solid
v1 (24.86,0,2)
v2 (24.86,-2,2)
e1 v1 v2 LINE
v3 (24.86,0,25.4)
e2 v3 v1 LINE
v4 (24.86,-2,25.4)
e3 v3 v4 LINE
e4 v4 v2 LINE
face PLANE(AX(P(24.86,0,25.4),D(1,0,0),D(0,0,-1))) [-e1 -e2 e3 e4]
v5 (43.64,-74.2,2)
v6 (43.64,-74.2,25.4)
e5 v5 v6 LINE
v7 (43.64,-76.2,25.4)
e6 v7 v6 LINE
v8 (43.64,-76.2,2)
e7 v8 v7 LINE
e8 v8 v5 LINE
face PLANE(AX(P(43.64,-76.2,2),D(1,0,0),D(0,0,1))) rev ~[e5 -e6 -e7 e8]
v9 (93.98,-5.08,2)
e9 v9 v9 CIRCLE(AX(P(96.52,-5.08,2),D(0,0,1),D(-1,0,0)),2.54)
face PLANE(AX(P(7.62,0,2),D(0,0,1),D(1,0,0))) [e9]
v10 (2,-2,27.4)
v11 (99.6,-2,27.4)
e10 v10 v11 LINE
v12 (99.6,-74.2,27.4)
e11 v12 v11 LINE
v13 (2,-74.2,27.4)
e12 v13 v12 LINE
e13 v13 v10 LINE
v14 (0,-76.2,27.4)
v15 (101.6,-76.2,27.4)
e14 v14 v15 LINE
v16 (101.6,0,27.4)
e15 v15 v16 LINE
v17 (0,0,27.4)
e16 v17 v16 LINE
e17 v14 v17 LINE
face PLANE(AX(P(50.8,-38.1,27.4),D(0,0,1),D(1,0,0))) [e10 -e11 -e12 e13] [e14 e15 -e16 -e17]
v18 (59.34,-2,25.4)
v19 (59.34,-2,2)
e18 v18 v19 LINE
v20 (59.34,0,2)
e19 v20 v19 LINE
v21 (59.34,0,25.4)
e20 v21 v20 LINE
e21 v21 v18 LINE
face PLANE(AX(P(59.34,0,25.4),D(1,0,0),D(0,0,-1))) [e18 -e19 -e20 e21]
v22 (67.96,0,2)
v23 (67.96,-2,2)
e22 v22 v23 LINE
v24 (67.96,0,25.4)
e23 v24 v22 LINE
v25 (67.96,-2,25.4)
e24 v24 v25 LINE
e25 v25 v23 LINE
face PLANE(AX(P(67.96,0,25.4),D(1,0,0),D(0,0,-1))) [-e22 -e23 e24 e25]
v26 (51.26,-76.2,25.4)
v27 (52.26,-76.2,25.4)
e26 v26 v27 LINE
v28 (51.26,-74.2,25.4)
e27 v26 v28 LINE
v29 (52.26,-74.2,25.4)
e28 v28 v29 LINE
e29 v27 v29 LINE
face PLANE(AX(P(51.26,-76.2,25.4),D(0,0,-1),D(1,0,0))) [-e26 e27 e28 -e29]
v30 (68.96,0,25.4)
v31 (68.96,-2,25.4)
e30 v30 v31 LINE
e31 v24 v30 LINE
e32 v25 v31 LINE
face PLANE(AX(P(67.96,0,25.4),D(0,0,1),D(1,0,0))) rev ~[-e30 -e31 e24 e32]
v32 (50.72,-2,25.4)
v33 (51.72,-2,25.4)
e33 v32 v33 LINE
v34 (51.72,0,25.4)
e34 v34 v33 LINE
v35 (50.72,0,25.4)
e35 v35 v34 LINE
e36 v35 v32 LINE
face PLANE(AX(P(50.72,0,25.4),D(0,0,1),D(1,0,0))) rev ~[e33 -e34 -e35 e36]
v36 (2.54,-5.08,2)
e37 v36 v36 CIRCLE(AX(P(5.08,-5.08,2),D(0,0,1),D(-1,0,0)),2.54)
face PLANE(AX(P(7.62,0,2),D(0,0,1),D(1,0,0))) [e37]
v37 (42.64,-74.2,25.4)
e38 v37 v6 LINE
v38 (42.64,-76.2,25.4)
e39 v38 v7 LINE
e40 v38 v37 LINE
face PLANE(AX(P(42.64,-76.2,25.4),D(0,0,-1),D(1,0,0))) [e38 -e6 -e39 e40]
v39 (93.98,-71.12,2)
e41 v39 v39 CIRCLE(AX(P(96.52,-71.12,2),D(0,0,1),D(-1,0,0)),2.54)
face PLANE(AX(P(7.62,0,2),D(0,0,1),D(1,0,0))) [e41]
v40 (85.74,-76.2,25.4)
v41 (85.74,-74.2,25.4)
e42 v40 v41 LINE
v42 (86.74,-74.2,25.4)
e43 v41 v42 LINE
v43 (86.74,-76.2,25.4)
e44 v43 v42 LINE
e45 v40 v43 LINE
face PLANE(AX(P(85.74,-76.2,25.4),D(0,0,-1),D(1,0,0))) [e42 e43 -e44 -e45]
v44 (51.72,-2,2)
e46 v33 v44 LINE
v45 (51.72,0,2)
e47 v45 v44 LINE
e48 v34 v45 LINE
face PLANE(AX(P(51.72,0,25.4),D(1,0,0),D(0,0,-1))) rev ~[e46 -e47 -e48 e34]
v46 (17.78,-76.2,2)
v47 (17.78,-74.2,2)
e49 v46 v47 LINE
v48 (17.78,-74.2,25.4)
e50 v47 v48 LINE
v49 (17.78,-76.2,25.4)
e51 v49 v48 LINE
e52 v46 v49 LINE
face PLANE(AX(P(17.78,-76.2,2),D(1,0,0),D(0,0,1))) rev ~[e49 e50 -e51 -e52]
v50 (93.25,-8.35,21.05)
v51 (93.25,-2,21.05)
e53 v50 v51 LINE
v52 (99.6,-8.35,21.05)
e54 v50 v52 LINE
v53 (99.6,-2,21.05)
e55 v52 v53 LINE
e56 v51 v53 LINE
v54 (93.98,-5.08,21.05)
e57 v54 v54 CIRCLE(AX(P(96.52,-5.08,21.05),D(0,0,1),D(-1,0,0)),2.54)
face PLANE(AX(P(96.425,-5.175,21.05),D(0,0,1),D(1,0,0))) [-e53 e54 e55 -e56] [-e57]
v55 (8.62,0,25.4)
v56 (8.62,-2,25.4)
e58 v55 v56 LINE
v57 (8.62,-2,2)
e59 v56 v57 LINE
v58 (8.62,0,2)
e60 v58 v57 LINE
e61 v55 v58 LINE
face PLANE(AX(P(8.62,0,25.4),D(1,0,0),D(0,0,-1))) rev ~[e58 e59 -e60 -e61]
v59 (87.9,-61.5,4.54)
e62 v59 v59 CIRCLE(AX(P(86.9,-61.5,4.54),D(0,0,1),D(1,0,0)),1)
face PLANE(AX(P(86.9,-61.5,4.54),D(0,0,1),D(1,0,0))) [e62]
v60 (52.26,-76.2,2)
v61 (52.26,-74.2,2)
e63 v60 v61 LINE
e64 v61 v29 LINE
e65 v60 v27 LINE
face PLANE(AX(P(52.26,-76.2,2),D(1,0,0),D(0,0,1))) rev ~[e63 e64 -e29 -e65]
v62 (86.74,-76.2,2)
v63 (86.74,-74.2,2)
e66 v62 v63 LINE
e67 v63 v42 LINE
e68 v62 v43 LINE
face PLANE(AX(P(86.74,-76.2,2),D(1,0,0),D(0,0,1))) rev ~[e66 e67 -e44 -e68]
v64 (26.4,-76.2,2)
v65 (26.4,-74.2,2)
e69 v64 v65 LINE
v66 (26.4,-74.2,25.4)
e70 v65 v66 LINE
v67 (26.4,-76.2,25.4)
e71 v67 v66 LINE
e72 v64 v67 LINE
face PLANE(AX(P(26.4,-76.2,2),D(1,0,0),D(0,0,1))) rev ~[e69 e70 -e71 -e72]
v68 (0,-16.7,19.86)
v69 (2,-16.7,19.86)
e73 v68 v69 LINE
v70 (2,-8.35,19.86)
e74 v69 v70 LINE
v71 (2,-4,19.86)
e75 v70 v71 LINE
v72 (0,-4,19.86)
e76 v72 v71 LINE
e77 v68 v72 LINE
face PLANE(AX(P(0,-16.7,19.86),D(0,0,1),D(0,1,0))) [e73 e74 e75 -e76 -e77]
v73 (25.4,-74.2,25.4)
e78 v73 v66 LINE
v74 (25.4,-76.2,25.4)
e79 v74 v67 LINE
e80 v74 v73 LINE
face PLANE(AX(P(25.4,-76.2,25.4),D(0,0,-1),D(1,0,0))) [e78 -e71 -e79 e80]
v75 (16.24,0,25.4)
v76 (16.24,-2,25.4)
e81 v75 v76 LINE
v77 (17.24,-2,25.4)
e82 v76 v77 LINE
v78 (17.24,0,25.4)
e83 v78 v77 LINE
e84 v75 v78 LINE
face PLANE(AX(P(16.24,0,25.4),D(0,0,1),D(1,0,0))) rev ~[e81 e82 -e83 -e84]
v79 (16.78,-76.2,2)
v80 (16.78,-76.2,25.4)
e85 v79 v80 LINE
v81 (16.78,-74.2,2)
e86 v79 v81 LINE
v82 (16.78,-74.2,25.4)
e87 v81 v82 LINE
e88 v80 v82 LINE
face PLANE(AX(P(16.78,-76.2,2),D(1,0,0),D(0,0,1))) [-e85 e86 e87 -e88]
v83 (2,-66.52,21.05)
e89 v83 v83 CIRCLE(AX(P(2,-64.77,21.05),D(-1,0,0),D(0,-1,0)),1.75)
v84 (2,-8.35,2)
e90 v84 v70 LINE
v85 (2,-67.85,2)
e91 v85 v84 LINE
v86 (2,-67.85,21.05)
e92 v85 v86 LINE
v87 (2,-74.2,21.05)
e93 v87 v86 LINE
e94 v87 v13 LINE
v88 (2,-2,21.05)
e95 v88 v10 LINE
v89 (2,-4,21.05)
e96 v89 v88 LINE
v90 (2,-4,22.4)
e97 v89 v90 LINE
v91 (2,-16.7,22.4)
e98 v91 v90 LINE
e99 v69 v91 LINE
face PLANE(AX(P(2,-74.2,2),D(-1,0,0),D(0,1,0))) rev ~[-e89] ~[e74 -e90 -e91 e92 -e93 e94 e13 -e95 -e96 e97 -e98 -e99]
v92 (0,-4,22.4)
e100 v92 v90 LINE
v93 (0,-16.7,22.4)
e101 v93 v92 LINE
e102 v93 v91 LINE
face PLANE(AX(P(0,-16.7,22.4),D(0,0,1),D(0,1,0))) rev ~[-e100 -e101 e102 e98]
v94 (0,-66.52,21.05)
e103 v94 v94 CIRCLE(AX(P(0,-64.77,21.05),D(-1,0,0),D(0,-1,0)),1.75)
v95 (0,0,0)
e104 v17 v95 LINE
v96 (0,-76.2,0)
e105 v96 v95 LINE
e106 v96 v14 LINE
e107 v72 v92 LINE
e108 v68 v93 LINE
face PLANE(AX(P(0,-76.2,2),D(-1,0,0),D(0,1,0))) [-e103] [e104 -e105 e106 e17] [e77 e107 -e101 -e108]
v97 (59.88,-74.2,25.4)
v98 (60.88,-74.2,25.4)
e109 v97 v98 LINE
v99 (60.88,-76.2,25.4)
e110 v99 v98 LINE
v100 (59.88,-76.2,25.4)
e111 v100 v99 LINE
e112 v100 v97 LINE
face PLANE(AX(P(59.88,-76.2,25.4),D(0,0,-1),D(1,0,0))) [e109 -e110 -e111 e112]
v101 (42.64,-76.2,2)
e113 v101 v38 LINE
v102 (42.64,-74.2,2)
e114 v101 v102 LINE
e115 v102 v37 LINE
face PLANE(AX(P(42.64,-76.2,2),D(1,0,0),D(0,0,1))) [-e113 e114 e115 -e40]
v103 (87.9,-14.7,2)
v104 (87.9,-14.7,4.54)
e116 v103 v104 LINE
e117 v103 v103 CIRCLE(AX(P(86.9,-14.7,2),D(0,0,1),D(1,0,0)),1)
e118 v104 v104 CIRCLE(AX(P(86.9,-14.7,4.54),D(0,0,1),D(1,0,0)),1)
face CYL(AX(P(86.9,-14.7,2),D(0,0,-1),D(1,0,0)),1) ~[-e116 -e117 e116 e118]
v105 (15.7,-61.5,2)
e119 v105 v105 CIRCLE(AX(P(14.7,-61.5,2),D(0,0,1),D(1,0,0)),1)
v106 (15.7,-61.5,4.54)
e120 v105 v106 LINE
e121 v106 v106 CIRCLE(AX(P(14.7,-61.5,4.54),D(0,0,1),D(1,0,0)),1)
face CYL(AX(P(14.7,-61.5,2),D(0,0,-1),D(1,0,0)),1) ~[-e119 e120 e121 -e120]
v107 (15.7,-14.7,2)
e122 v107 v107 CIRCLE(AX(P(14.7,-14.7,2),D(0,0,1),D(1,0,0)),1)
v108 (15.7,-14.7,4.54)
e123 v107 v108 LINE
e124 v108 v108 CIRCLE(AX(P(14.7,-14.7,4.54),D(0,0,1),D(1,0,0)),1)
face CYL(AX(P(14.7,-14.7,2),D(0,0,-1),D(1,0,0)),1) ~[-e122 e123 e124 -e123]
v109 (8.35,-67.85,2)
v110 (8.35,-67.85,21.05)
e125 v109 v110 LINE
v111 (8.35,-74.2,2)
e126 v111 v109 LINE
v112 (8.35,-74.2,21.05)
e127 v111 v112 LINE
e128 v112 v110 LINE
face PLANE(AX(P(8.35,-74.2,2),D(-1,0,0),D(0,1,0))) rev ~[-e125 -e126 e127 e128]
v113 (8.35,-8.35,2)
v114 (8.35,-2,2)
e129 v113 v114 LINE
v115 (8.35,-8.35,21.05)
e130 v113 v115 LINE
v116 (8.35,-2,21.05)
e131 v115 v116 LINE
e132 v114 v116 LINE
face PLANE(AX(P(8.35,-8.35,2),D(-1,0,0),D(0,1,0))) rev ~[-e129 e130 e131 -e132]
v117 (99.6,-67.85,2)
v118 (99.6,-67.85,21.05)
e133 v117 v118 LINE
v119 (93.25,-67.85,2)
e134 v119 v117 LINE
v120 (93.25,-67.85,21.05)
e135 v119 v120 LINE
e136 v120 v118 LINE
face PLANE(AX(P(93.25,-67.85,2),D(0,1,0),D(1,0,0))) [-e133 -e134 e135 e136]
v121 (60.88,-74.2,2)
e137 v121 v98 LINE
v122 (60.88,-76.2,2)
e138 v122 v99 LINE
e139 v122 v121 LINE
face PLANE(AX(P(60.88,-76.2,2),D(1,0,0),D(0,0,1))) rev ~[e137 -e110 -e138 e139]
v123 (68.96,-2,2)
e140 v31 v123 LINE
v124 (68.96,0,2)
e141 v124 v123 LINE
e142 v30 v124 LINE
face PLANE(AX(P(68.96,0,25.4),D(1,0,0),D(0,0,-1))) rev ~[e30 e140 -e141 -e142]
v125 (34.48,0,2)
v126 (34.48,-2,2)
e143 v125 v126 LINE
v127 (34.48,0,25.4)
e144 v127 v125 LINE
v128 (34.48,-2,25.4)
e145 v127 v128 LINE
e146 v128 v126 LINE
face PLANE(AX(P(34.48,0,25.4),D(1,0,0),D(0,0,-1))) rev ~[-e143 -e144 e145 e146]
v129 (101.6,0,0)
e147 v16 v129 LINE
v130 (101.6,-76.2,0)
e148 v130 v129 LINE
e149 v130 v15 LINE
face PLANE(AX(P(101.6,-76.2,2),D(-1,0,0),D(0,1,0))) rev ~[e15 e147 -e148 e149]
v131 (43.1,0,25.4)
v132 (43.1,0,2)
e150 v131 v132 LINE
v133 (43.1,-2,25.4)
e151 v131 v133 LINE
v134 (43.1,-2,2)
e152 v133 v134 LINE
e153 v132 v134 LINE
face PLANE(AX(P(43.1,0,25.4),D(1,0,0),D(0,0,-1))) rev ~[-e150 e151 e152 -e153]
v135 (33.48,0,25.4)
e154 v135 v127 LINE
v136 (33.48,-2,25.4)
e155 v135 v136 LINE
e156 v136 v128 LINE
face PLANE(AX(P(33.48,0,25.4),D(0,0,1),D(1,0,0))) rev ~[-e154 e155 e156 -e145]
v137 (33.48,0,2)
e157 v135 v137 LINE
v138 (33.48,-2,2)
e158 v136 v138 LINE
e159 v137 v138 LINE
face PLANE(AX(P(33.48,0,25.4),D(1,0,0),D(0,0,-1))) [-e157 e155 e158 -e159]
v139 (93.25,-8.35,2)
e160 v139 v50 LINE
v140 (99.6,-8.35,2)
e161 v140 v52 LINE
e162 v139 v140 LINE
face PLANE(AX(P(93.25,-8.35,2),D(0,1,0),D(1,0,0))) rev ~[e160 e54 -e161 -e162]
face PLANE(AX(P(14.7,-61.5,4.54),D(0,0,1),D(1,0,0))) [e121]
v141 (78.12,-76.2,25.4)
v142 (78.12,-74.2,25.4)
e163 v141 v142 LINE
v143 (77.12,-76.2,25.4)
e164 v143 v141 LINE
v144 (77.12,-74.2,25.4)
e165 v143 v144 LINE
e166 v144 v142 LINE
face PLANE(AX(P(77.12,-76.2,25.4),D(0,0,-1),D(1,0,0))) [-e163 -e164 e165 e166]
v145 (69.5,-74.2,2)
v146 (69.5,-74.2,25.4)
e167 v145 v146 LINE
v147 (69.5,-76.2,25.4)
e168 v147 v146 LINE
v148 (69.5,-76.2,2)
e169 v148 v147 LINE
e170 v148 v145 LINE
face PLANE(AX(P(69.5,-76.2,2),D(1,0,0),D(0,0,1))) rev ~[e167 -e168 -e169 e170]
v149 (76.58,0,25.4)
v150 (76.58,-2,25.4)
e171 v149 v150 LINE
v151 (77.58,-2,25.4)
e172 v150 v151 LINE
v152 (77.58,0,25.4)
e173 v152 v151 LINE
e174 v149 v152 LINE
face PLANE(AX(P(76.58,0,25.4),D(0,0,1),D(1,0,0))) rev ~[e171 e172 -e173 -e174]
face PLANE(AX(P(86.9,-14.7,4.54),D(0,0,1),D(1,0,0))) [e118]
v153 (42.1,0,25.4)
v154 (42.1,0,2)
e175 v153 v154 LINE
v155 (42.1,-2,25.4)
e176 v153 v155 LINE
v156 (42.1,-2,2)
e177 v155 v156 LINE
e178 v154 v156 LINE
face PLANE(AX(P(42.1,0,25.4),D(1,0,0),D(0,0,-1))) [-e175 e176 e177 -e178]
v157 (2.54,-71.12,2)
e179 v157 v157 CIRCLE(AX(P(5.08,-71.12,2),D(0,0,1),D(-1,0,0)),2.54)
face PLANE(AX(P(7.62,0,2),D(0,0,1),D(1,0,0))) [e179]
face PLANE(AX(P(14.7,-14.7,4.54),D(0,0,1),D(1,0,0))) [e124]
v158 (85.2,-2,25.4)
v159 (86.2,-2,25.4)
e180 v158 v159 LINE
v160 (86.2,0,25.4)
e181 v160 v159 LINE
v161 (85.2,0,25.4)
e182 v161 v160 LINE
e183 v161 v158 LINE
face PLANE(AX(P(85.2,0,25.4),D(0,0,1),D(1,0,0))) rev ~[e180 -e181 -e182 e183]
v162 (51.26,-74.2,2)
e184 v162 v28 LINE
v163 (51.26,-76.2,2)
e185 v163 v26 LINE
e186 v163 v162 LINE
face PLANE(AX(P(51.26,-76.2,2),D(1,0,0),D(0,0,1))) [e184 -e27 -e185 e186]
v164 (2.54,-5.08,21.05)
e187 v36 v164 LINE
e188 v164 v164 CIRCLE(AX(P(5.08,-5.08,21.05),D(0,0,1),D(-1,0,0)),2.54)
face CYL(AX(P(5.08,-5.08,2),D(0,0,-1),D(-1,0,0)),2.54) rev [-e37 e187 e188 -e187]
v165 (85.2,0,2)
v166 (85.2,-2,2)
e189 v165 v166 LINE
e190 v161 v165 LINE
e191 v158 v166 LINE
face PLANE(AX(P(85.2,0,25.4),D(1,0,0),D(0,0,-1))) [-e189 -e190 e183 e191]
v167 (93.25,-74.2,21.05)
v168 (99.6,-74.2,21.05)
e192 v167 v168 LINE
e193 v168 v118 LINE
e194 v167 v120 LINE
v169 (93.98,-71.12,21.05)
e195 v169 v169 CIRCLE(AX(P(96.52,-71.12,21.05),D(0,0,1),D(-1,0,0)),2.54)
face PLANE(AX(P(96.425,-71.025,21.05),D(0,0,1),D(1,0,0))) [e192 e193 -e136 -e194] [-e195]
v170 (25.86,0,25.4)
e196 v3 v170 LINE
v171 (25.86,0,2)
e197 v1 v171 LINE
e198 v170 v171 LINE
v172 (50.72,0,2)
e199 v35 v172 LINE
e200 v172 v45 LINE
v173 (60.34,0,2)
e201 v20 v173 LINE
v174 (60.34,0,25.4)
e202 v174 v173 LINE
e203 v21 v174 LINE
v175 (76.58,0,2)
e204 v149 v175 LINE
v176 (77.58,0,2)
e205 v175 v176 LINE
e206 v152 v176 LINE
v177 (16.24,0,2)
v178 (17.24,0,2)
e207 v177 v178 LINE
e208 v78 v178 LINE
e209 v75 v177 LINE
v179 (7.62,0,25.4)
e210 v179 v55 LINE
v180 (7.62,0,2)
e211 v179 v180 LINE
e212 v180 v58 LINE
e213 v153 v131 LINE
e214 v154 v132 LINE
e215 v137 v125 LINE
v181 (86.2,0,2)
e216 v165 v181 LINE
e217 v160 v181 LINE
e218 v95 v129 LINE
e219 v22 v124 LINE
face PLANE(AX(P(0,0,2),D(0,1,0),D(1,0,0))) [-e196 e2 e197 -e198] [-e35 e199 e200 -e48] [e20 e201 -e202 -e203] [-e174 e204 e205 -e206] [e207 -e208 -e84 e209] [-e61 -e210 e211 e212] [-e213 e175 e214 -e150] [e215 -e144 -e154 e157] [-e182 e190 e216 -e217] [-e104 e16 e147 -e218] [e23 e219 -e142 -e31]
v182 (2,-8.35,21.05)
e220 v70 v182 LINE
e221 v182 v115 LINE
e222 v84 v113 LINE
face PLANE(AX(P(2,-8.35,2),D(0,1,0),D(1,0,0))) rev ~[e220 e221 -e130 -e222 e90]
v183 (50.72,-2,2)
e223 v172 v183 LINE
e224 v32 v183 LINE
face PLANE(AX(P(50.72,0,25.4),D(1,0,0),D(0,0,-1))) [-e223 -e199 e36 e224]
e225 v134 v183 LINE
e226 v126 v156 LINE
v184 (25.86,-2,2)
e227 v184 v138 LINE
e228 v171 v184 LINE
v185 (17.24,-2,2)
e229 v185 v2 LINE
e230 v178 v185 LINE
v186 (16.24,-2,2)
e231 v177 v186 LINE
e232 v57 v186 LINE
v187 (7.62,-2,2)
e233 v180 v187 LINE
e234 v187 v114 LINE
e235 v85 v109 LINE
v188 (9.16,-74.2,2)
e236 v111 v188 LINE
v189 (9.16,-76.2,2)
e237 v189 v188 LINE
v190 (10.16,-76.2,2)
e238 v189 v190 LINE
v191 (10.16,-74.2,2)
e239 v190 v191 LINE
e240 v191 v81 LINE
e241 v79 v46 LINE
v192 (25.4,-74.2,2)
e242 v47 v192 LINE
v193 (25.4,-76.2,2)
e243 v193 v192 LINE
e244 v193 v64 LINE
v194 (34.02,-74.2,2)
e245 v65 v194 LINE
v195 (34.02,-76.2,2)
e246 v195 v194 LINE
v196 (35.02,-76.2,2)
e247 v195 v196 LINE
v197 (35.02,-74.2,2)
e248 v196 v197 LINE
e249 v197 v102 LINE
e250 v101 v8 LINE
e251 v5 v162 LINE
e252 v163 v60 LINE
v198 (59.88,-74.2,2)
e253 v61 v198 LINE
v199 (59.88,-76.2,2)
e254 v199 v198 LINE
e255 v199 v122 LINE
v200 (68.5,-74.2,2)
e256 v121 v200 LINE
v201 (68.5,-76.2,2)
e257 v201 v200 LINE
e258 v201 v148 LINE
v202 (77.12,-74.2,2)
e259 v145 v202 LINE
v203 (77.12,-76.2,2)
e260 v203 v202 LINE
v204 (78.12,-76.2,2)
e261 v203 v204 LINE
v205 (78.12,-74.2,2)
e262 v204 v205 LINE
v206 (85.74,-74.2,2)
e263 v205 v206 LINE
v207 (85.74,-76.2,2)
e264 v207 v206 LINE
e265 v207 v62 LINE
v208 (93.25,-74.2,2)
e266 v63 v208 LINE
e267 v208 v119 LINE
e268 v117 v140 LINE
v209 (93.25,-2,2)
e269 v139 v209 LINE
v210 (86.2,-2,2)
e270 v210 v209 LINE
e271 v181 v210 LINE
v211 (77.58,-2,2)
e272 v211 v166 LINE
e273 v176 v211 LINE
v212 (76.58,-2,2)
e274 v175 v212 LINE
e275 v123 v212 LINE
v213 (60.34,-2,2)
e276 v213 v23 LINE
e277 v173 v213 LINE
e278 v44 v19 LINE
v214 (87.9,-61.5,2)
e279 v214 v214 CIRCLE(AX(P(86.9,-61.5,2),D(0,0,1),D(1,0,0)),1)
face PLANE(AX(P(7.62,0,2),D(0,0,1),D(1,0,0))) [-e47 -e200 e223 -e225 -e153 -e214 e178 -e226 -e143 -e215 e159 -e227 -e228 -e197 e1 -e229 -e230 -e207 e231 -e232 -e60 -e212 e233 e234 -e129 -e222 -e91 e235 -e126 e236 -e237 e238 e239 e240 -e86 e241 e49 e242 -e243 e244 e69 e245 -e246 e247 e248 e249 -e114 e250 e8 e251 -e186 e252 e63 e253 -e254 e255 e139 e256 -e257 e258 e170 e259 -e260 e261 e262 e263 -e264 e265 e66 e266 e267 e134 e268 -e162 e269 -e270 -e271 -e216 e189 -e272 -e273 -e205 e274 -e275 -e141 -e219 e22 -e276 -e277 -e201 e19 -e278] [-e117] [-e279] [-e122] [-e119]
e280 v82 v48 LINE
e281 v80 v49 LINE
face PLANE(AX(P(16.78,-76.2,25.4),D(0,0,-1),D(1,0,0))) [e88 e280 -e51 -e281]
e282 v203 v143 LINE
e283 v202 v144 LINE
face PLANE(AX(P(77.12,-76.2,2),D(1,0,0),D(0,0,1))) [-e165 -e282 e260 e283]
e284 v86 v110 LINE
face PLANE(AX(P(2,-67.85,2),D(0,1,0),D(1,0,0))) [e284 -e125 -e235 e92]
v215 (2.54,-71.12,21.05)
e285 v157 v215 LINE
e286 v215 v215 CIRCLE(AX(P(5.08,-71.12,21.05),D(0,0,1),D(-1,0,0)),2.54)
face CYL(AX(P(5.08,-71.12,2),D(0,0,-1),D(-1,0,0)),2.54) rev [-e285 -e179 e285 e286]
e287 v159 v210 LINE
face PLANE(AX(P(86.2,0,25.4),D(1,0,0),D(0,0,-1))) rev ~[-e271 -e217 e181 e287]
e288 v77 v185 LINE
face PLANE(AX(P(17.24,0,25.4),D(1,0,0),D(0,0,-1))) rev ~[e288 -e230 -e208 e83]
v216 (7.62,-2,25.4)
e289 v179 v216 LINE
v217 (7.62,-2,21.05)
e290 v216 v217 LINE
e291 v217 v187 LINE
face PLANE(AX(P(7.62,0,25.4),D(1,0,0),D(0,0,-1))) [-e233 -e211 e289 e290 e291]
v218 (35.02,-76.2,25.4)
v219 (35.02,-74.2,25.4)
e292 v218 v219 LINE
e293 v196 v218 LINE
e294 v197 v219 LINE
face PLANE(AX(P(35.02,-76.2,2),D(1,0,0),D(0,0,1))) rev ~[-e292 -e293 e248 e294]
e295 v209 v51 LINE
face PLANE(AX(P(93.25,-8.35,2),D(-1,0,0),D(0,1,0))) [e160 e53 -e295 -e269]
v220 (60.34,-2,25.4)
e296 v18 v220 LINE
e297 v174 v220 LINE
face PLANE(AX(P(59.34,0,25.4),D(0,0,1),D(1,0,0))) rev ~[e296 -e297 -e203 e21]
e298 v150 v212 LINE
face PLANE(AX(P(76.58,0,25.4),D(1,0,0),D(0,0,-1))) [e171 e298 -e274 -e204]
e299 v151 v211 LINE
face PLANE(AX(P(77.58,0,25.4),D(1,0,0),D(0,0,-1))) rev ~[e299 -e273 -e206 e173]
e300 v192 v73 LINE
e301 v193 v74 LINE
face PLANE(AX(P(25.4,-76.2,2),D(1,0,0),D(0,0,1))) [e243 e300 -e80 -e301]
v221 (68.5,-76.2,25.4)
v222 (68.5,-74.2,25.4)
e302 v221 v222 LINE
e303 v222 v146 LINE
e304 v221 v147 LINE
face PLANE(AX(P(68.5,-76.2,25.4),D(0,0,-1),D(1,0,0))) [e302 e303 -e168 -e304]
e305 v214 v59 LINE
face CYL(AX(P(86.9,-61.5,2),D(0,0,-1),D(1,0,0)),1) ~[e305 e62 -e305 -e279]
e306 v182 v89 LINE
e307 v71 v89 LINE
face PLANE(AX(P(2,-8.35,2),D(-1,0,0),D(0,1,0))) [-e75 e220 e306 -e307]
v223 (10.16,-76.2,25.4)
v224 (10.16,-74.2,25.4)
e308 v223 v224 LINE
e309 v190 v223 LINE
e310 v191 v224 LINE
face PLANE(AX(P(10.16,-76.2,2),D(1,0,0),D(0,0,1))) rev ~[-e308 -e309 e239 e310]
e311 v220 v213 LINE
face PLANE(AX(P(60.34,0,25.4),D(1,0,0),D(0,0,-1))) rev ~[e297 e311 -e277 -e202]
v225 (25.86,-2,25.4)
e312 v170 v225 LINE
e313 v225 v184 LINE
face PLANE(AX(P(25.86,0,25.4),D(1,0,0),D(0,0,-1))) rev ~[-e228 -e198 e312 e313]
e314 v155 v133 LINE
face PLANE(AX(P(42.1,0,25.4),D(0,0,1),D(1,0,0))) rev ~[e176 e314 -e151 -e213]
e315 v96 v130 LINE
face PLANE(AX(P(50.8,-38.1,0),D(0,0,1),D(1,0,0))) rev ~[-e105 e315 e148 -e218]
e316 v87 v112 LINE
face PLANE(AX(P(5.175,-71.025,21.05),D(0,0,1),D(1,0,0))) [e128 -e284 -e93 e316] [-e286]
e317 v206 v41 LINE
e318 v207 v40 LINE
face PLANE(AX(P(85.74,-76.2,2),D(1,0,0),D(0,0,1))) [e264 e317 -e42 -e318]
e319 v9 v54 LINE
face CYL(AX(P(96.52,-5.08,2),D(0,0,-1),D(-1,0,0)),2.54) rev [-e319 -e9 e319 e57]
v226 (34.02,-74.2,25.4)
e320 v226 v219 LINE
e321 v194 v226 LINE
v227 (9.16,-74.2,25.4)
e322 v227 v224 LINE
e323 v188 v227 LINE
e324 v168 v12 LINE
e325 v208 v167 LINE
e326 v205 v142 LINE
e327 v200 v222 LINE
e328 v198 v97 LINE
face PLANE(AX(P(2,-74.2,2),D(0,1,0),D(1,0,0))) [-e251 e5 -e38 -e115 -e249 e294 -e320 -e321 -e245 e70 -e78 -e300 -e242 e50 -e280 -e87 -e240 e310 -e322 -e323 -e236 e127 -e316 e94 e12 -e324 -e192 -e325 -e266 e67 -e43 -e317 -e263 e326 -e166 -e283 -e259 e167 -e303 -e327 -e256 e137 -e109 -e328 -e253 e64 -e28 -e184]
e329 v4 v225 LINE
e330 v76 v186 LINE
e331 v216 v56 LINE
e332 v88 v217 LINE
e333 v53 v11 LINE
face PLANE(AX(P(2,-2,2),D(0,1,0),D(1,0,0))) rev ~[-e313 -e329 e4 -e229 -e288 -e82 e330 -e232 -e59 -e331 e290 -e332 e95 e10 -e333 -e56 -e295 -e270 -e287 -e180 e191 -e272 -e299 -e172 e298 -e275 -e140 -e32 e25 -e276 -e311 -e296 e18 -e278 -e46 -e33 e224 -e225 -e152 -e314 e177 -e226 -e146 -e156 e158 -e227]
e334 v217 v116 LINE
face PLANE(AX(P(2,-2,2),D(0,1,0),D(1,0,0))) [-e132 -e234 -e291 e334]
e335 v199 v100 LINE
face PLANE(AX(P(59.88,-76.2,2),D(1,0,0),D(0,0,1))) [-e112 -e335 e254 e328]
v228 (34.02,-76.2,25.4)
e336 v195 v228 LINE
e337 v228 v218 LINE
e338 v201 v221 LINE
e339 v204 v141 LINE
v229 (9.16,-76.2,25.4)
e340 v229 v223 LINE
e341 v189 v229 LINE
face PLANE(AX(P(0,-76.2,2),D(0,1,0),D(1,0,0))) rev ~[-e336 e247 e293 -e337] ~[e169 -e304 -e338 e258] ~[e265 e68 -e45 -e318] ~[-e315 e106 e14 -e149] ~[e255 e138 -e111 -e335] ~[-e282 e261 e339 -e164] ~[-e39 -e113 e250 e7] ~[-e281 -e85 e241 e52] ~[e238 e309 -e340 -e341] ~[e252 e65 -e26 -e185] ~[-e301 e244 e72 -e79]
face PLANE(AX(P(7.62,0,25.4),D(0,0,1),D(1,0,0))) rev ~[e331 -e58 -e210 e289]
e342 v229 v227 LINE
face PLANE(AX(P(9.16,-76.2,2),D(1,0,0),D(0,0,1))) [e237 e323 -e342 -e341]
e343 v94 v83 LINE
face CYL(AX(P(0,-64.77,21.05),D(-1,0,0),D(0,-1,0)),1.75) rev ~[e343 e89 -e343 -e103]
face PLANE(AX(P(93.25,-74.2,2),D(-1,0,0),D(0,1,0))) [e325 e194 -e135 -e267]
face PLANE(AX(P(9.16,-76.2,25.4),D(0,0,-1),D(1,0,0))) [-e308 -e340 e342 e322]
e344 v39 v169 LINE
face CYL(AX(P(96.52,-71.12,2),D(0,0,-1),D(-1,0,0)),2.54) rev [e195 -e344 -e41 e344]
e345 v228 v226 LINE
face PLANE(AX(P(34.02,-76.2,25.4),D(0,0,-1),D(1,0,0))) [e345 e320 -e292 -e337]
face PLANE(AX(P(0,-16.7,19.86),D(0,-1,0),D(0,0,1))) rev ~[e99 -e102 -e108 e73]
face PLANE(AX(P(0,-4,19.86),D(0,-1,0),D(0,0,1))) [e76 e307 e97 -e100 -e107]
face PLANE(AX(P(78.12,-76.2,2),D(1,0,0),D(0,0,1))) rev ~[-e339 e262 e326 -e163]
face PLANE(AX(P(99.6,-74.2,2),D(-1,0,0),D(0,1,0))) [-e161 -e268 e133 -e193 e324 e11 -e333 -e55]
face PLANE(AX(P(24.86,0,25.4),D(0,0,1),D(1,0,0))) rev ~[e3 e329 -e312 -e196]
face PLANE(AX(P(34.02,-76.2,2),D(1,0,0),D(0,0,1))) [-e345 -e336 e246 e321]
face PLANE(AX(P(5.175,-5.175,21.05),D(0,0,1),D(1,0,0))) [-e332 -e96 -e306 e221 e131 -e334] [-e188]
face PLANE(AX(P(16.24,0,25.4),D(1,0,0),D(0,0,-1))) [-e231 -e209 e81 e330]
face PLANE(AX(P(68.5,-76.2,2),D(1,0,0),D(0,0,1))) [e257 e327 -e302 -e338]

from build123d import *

# Parameters (mm, degrees)
SKETCH16_W          = 101.6
SKETCH16_H          = 76.2
BOSS_EXTRUDE4_DEPTH = 2
SKETCH17_W          = 101.6
SKETCH17_H          = 76.2
SKETCH17_W_2        = 97.6
SKETCH17_H_2        = 72.2
BOSS_EXTRUDE5_DEPTH = 25.4
SKETCH18_R          = 1
BOSS_EXTRUDE6_DEPTH = 2.54
SKETCH19_W          = 1
SKETCH19_H          = 23.4
CUT_EXTRUDE6_DEPTH  = 2
SKETCH20_W          = 1
SKETCH20_H          = 23.4
CUT_EXTRUDE7_DEPTH  = 2
SKETCH21_R          = 1.75
SKETCH21_W          = 2.54
SKETCH21_H          = 12.7
CUT_EXTRUDE8_DEPTH  = 2
SKETCH33_W          = 6.35
SKETCH33_H          = 6.35
SKETCH33_R          = 2.54
BOSS_EXTRUDE7_DEPTH = 19.05


with BuildPart() as part:
    # Sketch16 → Boss-Extrude4 (new body)
    with BuildSketch(Plane.XY):
        with Locations((50.8, -38.1)):
            Rectangle(SKETCH16_W, SKETCH16_H)
    extrude(amount=BOSS_EXTRUDE4_DEPTH)

    # Sketch17 → Boss-Extrude5 (add)
    with BuildSketch(Plane.XY.offset(2)):
        with Locations((50.8, -38.1)):
            Rectangle(SKETCH17_W, SKETCH17_H)
        with Locations((50.8, -38.1)):
            Rectangle(SKETCH17_W_2, SKETCH17_H_2, mode=Mode.SUBTRACT)
    extrude(amount=BOSS_EXTRUDE5_DEPTH)

    # Sketch18 → Boss-Extrude6 (add)
    with BuildSketch(Plane.XY.offset(2)):
        with Locations((14.7, -14.7)):
            Circle(SKETCH18_R)
        with Locations((86.9, -14.7)):
            Circle(SKETCH18_R)
        with Locations((86.9, -61.5)):
            Circle(SKETCH18_R)
        with Locations((14.7, -61.5)):
            Circle(SKETCH18_R)
    extrude(amount=BOSS_EXTRUDE6_DEPTH)

    # Sketch19 → Cut-Extrude6 (cut)
    with BuildSketch(Plane.XZ.offset(76.2)):
        with Locations((9.66, 13.7)):
            Rectangle(SKETCH19_W, SKETCH19_H)
        with Locations((17.28, 13.7)):
            Rectangle(SKETCH19_W, SKETCH19_H)
        with Locations((25.9, 13.7)):
            Rectangle(SKETCH19_W, SKETCH19_H)
        with Locations((34.52, 13.7)):
            Rectangle(SKETCH19_W, SKETCH19_H)
        with Locations((43.14, 13.7)):
            Rectangle(SKETCH19_W, SKETCH19_H)
        with Locations((51.76, 13.7)):
            Rectangle(SKETCH19_W, SKETCH19_H)
        with Locations((60.38, 13.7)):
            Rectangle(SKETCH19_W, SKETCH19_H)
        with Locations((69, 13.7)):
            Rectangle(SKETCH19_W, SKETCH19_H)
        with Locations((77.62, 13.7)):
            Rectangle(SKETCH19_W, SKETCH19_H)
        with Locations((86.24, 13.7)):
            Rectangle(SKETCH19_W, SKETCH19_H)
    extrude(amount=-CUT_EXTRUDE6_DEPTH, mode=Mode.SUBTRACT)

    # Sketch20 → Cut-Extrude7 (cut)
    with BuildSketch(Plane(origin=(0, 0, 0), x_dir=(1, 0, 0), z_dir=(0, 1, 0))):
        with Locations((8.12, -13.7)):
            Rectangle(SKETCH20_W, SKETCH20_H)
        with Locations((16.74, -13.7)):
            Rectangle(SKETCH20_W, SKETCH20_H)
        with Locations((25.36, -13.7)):
            Rectangle(SKETCH20_W, SKETCH20_H)
        with Locations((33.98, -13.7)):
            Rectangle(SKETCH20_W, SKETCH20_H)
        with Locations((42.6, -13.7)):
            Rectangle(SKETCH20_W, SKETCH20_H)
        with Locations((51.22, -13.7)):
            Rectangle(SKETCH20_W, SKETCH20_H)
        with Locations((59.84, -13.7)):
            Rectangle(SKETCH20_W, SKETCH20_H)
        with Locations((68.46, -13.7)):
            Rectangle(SKETCH20_W, SKETCH20_H)
        with Locations((85.7, -13.7)):
            Rectangle(SKETCH20_W, SKETCH20_H)
        with Locations((77.08, -13.7)):
            Rectangle(SKETCH20_W, SKETCH20_H)
    extrude(amount=-CUT_EXTRUDE7_DEPTH, mode=Mode.SUBTRACT)

    # Sketch21 → Cut-Extrude8 (cut)
    with BuildSketch(Plane.ZY):
        with Locations(Location((21.05, -64.77, 0), (0, 0, 270))):
            Circle(SKETCH21_R)
        with Locations((21.13, -10.35)):
            Rectangle(SKETCH21_W, SKETCH21_H)
    extrude(amount=-CUT_EXTRUDE8_DEPTH, mode=Mode.SUBTRACT)

    # Sketch33 → Boss-Extrude7 (add)
    # profile 1 of 4: a face of its own
    with BuildSketch(Plane.XY.offset(2)):
        with Locations((5.175, -5.175)):
            Rectangle(SKETCH33_W, SKETCH33_H)
        with Locations(Location((5.08, -5.08, 0), (0, 0, 180))):
            Circle(SKETCH33_R, mode=Mode.SUBTRACT)
    # profile 2 of 4: a face of its own
    with BuildSketch(Plane.XY.offset(2)):
        with Locations((96.425, -5.175)):
            Rectangle(SKETCH33_W, SKETCH33_H)
        with Locations(Location((96.52, -5.08, 0), (0, 0, 180))):
            Circle(SKETCH33_R, mode=Mode.SUBTRACT)
    # profile 3 of 4: a face of its own
    with BuildSketch(Plane.XY.offset(2)):
        with Locations((5.175, -71.025)):
            Rectangle(SKETCH33_W, SKETCH33_H)
        with Locations(Location((5.08, -71.12, 0), (0, 0, 180))):
            Circle(SKETCH33_R, mode=Mode.SUBTRACT)
    # profile 4 of 4: a face of its own
    with BuildSketch(Plane.XY.offset(2)):
        with Locations((96.425, -71.025)):
            Rectangle(SKETCH33_W, SKETCH33_H)
        with Locations(Location((96.52, -71.12, 0), (0, 0, 180))):
            Circle(SKETCH33_R, mode=Mode.SUBTRACT)
    extrude(amount=BOSS_EXTRUDE7_DEPTH)


solid = part.part
